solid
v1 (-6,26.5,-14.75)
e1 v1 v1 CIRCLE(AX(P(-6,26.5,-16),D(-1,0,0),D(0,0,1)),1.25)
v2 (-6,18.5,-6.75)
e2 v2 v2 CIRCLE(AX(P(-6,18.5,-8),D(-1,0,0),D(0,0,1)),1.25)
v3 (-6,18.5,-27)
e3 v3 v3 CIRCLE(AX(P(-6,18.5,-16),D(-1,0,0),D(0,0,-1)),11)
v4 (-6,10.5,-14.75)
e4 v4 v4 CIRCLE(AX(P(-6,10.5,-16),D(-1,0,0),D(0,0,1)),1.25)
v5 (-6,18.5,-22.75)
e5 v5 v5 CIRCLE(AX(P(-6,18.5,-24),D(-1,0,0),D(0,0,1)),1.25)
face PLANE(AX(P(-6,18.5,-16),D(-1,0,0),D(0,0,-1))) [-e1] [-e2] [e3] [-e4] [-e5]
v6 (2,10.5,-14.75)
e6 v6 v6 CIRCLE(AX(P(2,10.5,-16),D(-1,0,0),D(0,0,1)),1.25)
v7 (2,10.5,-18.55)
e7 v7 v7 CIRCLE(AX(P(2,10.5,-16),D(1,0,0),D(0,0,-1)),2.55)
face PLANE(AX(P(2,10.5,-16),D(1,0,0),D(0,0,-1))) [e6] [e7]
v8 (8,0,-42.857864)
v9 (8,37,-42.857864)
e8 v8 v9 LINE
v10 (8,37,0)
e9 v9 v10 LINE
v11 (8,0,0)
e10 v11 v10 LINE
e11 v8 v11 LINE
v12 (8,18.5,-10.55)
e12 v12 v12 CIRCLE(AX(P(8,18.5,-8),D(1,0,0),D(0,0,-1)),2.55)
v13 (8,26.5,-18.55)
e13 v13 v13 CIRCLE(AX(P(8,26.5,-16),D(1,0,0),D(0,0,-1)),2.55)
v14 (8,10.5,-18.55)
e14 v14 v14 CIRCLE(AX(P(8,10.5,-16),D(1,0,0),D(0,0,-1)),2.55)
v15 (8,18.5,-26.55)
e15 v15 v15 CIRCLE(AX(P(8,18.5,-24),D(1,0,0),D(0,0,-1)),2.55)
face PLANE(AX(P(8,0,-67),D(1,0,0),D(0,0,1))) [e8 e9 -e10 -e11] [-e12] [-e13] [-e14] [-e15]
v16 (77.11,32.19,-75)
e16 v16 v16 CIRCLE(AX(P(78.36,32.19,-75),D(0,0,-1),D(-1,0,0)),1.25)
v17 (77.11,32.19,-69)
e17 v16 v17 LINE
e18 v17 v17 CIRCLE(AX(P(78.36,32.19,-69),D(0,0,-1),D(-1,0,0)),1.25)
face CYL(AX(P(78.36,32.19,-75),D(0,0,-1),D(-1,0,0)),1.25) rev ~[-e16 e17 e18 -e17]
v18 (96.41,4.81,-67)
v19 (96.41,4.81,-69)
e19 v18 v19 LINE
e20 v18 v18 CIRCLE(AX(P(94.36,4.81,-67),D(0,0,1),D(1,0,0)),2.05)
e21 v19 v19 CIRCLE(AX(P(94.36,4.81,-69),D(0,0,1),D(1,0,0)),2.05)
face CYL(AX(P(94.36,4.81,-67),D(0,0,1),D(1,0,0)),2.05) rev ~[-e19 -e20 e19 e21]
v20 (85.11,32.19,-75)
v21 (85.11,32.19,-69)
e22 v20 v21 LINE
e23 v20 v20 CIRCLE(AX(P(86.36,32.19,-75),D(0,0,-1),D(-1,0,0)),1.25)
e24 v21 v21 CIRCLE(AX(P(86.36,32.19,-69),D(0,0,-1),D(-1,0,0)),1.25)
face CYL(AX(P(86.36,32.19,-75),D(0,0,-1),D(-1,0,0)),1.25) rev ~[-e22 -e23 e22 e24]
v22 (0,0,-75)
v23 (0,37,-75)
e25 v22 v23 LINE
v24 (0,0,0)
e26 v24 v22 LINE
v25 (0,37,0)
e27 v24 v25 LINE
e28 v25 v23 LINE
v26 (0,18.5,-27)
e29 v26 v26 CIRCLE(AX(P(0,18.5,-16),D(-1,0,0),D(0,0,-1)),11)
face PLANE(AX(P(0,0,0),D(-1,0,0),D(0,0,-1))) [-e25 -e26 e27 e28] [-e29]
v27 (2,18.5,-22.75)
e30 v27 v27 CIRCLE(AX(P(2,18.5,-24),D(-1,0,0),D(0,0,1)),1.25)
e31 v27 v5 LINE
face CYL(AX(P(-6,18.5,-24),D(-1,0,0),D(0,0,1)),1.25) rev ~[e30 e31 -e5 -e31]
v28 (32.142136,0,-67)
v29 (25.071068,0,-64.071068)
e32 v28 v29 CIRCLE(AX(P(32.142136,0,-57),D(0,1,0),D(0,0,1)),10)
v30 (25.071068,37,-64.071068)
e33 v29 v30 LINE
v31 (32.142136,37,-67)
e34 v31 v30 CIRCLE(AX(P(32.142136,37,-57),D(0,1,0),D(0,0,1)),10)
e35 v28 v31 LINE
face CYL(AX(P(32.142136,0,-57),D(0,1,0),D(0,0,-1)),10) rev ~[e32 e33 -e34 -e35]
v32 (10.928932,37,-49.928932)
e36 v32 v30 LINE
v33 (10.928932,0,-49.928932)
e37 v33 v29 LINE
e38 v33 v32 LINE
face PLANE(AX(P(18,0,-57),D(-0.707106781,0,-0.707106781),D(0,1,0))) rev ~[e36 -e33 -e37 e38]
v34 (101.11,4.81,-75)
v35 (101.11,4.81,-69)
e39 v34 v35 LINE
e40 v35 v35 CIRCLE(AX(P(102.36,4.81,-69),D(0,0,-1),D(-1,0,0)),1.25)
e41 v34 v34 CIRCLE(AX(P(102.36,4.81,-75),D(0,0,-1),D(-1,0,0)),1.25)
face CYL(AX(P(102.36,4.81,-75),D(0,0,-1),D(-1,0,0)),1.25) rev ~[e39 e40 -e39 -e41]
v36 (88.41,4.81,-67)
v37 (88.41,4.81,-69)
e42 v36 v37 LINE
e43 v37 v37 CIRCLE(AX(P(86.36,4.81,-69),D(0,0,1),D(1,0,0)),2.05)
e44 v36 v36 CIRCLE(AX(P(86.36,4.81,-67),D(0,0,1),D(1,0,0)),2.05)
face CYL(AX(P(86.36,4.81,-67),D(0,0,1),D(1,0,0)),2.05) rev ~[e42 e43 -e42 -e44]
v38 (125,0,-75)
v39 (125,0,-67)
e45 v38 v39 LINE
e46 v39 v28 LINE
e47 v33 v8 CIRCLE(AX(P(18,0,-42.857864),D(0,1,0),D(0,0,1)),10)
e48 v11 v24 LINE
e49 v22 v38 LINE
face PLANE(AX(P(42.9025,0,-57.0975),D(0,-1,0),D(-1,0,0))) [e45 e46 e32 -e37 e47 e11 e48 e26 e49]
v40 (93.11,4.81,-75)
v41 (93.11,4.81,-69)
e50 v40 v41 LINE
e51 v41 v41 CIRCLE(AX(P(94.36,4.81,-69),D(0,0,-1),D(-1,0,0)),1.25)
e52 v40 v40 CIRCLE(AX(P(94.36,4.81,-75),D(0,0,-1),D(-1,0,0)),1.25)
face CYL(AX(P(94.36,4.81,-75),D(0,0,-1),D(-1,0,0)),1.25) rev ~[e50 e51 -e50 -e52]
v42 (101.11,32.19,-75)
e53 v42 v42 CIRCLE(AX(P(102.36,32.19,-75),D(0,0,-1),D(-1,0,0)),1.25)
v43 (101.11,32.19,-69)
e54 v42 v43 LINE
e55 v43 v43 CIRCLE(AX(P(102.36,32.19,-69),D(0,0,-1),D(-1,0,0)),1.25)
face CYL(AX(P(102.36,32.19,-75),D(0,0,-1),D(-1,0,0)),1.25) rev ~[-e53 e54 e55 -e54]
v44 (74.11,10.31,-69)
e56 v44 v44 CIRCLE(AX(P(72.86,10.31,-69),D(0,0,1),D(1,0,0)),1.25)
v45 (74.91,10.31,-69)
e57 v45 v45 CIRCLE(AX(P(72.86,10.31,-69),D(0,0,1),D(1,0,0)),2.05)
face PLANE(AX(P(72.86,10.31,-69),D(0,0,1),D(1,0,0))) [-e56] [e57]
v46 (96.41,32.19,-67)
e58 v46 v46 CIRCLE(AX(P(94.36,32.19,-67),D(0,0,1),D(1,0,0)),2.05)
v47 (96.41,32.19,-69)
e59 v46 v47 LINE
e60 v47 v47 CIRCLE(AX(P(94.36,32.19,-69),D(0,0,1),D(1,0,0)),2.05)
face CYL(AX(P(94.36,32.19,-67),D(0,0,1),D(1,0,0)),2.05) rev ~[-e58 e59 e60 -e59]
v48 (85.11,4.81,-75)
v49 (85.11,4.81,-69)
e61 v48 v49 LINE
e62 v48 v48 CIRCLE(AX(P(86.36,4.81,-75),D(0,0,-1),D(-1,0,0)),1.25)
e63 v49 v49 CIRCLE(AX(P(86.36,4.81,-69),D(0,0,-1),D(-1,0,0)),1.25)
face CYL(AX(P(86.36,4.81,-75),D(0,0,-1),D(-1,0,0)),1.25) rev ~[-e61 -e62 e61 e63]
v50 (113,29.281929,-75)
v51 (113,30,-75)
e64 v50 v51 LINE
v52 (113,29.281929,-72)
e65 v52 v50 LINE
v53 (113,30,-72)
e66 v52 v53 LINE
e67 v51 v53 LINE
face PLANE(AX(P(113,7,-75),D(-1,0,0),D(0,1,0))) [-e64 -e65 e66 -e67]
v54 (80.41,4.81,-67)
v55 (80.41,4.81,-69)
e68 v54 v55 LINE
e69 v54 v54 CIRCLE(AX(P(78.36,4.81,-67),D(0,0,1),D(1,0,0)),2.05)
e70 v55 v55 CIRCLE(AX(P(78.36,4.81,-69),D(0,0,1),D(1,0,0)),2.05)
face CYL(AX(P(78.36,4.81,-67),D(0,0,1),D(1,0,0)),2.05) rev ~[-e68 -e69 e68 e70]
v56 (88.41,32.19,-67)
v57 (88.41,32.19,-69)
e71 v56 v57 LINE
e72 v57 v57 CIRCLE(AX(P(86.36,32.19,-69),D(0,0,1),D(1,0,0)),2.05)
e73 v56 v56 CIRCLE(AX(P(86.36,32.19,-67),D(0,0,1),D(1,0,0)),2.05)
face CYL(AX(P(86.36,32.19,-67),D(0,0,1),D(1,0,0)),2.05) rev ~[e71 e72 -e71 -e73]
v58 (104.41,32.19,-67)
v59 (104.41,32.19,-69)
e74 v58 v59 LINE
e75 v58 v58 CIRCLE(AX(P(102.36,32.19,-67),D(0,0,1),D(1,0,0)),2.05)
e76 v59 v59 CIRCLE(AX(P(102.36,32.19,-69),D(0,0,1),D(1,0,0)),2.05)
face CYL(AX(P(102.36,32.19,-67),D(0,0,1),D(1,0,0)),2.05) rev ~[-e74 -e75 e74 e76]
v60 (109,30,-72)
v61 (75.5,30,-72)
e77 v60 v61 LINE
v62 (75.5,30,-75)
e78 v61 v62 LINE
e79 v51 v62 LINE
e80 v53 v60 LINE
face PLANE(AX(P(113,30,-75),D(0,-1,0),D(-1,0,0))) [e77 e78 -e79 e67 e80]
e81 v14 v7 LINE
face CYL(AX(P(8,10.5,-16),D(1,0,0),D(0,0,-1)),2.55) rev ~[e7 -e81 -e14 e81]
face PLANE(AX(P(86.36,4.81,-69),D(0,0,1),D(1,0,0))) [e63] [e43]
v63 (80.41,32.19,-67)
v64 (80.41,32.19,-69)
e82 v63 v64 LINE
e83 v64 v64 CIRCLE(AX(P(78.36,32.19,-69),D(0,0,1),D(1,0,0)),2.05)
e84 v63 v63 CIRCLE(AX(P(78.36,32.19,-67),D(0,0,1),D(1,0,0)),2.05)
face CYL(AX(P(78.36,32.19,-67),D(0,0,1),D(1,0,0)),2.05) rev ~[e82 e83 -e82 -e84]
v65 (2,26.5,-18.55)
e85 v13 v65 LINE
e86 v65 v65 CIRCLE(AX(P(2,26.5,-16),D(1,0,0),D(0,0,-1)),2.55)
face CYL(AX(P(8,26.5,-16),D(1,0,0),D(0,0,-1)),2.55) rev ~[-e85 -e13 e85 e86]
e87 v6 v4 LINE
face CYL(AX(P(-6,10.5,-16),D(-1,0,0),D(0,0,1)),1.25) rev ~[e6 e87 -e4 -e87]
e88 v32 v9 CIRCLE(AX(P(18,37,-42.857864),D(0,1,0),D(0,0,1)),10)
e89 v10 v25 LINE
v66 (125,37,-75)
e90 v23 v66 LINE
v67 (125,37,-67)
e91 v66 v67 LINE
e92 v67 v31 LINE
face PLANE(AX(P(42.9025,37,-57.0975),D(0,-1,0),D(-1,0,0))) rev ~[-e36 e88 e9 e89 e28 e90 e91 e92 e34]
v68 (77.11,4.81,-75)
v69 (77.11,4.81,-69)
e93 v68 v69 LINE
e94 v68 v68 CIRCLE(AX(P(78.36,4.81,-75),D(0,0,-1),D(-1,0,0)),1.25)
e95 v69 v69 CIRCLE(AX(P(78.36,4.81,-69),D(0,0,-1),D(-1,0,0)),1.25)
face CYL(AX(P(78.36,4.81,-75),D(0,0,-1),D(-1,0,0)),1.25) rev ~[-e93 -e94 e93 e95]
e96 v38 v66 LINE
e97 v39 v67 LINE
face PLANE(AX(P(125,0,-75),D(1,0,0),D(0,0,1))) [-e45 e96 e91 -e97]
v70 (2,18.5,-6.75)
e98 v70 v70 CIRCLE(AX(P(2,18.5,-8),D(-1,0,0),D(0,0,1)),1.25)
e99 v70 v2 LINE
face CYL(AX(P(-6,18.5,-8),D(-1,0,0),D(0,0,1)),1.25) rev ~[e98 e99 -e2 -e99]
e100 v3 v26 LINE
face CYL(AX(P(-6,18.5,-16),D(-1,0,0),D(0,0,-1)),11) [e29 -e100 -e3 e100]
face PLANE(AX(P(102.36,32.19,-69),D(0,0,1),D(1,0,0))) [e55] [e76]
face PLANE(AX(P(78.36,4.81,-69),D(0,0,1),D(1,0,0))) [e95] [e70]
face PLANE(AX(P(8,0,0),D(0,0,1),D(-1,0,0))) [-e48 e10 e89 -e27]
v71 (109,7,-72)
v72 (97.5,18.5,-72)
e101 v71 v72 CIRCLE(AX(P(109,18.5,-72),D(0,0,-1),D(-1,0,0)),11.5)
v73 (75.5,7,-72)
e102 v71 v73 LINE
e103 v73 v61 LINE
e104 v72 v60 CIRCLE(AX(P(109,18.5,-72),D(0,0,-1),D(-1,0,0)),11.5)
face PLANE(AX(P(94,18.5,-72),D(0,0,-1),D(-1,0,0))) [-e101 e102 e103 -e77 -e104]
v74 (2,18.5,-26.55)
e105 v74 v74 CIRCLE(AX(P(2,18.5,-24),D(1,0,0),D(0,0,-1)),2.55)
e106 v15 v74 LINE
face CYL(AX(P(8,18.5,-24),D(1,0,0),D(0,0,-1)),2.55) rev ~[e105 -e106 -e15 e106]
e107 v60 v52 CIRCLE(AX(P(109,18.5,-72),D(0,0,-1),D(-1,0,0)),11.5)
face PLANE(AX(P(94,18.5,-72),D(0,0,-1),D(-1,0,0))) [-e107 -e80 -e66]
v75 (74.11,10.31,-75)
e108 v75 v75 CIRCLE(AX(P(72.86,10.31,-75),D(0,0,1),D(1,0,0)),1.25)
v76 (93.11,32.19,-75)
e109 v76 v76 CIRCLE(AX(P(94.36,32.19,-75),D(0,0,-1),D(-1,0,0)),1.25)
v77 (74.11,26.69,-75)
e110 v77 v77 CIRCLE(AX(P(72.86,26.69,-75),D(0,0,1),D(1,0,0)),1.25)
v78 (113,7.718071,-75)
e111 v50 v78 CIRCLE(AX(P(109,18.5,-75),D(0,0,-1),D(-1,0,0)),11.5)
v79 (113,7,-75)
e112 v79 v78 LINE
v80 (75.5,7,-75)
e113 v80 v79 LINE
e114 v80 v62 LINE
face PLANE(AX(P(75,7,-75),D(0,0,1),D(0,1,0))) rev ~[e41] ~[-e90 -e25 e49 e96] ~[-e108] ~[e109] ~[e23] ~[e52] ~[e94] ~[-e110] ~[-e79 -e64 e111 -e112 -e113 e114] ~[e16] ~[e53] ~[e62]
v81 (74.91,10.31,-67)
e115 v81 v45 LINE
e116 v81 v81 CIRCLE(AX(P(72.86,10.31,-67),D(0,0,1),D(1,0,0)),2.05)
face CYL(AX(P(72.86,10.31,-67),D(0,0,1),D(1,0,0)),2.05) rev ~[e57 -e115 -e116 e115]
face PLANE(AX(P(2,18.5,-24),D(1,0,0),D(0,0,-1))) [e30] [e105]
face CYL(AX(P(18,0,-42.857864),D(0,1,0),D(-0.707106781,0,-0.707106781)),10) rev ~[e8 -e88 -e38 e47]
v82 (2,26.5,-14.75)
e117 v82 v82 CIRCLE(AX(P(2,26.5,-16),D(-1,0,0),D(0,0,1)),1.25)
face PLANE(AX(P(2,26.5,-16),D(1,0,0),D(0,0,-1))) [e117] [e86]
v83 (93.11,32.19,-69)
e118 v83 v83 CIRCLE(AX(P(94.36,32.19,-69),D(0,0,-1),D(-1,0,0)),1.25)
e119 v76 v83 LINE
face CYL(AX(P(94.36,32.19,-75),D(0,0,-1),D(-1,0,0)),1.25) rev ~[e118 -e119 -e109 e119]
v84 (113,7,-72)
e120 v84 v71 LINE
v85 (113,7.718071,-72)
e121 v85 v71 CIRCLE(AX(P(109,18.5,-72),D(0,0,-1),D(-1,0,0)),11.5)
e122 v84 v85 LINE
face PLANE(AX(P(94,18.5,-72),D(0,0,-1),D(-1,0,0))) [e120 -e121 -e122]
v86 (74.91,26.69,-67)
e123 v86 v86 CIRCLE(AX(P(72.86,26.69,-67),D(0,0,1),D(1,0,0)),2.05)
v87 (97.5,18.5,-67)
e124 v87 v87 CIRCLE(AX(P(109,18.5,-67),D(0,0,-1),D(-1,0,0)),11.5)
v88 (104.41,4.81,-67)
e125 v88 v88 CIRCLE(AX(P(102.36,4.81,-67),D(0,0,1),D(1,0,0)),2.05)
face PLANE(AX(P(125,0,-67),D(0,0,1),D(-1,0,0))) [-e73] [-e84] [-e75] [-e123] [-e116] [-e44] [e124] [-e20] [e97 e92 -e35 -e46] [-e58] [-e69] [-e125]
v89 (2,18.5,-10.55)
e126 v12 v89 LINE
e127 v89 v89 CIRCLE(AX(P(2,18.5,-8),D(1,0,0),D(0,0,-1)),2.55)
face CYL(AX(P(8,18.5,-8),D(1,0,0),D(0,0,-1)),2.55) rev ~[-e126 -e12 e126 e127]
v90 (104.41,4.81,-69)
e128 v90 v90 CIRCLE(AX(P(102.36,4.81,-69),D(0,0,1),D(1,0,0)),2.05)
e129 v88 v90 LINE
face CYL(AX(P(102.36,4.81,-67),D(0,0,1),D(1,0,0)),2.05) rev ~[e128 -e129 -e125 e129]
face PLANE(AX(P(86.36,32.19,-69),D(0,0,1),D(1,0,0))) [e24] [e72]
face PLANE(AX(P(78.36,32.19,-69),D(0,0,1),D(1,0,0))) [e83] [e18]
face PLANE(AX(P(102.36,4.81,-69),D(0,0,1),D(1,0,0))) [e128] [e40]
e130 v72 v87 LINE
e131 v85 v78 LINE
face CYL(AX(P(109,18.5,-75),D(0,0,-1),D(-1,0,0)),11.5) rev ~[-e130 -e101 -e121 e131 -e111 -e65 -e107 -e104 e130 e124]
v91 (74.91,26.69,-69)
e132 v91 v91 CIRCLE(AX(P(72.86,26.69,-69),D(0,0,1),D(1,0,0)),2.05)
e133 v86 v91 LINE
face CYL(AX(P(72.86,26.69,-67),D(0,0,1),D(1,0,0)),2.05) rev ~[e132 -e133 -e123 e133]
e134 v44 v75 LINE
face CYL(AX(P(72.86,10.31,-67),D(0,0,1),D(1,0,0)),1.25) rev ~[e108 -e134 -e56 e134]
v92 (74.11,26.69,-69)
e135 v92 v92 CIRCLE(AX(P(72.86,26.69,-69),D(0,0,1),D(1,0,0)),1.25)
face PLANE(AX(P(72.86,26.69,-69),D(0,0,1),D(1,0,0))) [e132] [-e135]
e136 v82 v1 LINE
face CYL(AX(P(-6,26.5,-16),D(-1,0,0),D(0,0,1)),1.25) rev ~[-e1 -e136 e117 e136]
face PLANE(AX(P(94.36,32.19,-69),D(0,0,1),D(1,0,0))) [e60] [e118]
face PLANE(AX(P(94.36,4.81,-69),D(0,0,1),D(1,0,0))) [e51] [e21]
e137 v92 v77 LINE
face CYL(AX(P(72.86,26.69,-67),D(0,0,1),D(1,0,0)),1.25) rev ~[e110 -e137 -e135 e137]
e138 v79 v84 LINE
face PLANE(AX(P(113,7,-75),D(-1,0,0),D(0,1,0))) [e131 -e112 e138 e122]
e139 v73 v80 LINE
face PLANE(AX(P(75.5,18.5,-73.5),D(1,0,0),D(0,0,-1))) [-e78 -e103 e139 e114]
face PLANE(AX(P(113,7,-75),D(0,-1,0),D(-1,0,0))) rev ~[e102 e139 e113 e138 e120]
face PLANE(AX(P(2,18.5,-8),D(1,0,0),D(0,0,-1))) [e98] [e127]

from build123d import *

# Parameters (mm, degrees)
BOSS_EXTRUDE1_DEPTH = 37
CUT_EXTRUDE1_REACH  = 152.396
CUT_EXTRUDE2_REACH  = 152.396
SKETCH3_R           = 1.25
CUT_EXTRUDE5_REACH  = 152.396
SKETCH5_R           = 1.25
BOSS_EXTRUDE3_START = 6
SKETCH6_R           = 11
SKETCH6_R_2         = 1.25
BOSS_EXTRUDE3_DEPTH = 6
SKETCH4_W           = 38
SKETCH4_H           = 23
CUT_EXTRUDE6_DEPTH  = 3
SKETCH9_R           = 2.05
CUT_EXTRUDE8_DEPTH  = 2
SKETCH10_R          = 2.55
CUT_EXTRUDE9_DEPTH  = 6
CHAMFER1_SIZE       = 20
FILLET5_R           = 10
CUT_EXTRUDE10_REACH = 148.571
SKETCH11_R          = 1.25
SKETCH12_R          = 2.05
CUT_EXTRUDE11_DEPTH = 2
SKETCH7_W           = 3
SKETCH7_H           = 23
BOSS_EXTRUDE4_DEPTH = 0.5


with BuildPart() as part:
    # Sketch1 → Boss-Extrude1 (new body)
    with BuildSketch(Plane(origin=(0, 0, 0), x_dir=(1, 0, 0), z_dir=(0, 1, 0))):
        Polygon((0, 0), (0, 75), (125, 75), (125, 67), (8, 67), (8, 0), align=None)
    extrude(amount=BOSS_EXTRUDE1_DEPTH)

    # Sketch2 → Cut-Extrude1 (cut, up to next)
    with BuildSketch(Plane(origin=(0, 0, -75), x_dir=(-1, 0, 0), z_dir=(0, 0, -1)), mode=Mode.PRIVATE) as cut_extrude1_sk1:
        with BuildLine():
            ThreePointArc((-120.5, 18.5), (-109, 7), (-97.5, 18.5))
            ThreePointArc((-97.5, 18.5), (-109, 30), (-120.5, 18.5))
        make_face()
    cut_extrude1_tool1 = extrude(cut_extrude1_sk1.sketch, amount=-CUT_EXTRUDE1_REACH, mode=Mode.PRIVATE) & part.part
    add(cut_extrude1_tool1.solids().sort_by_distance((109, 18.5, -75))[0], mode=Mode.SUBTRACT)

    # Sketch3 → Cut-Extrude2 (cut, up to next)
    with BuildSketch(Plane(origin=(0, 0, -75), x_dir=(-1, 0, 0), z_dir=(0, 0, -1)), mode=Mode.PRIVATE) as cut_extrude2_sk1:
        with Locations((-102.36, 32.19)):
            Circle(SKETCH3_R)
    cut_extrude2_tool1 = extrude(cut_extrude2_sk1.sketch, amount=-CUT_EXTRUDE2_REACH, mode=Mode.PRIVATE) & part.part
    # Sketch3 → Cut-Extrude2 (cut, up to next)
    with BuildSketch(Plane(origin=(0, 0, -75), x_dir=(-1, 0, 0), z_dir=(0, 0, -1)), mode=Mode.PRIVATE) as cut_extrude2_sk2:
        with Locations((-94.36, 32.19)):
            Circle(SKETCH3_R)
    cut_extrude2_tool2 = extrude(cut_extrude2_sk2.sketch, amount=-CUT_EXTRUDE2_REACH, mode=Mode.PRIVATE) & part.part
    # Sketch3 → Cut-Extrude2 (cut, up to next)
    with BuildSketch(Plane(origin=(0, 0, -75), x_dir=(-1, 0, 0), z_dir=(0, 0, -1)), mode=Mode.PRIVATE) as cut_extrude2_sk3:
        with Locations((-86.36, 32.19)):
            Circle(SKETCH3_R)
    cut_extrude2_tool3 = extrude(cut_extrude2_sk3.sketch, amount=-CUT_EXTRUDE2_REACH, mode=Mode.PRIVATE) & part.part
    # Sketch3 → Cut-Extrude2 (cut, up to next)
    with BuildSketch(Plane(origin=(0, 0, -75), x_dir=(-1, 0, 0), z_dir=(0, 0, -1)), mode=Mode.PRIVATE) as cut_extrude2_sk4:
        with Locations((-78.36, 32.19)):
            Circle(SKETCH3_R)
    cut_extrude2_tool4 = extrude(cut_extrude2_sk4.sketch, amount=-CUT_EXTRUDE2_REACH, mode=Mode.PRIVATE) & part.part
    # Sketch3 → Cut-Extrude2 (cut, up to next)
    with BuildSketch(Plane(origin=(0, 0, -75), x_dir=(-1, 0, 0), z_dir=(0, 0, -1)), mode=Mode.PRIVATE) as cut_extrude2_sk5:
        with Locations((-78.36, 4.81)):
            Circle(SKETCH3_R)
    cut_extrude2_tool5 = extrude(cut_extrude2_sk5.sketch, amount=-CUT_EXTRUDE2_REACH, mode=Mode.PRIVATE) & part.part
    # Sketch3 → Cut-Extrude2 (cut, up to next)
    with BuildSketch(Plane(origin=(0, 0, -75), x_dir=(-1, 0, 0), z_dir=(0, 0, -1)), mode=Mode.PRIVATE) as cut_extrude2_sk6:
        with Locations((-86.36, 4.81)):
            Circle(SKETCH3_R)
    cut_extrude2_tool6 = extrude(cut_extrude2_sk6.sketch, amount=-CUT_EXTRUDE2_REACH, mode=Mode.PRIVATE) & part.part
    # Sketch3 → Cut-Extrude2 (cut, up to next)
    with BuildSketch(Plane(origin=(0, 0, -75), x_dir=(-1, 0, 0), z_dir=(0, 0, -1)), mode=Mode.PRIVATE) as cut_extrude2_sk7:
        with Locations((-94.36, 4.81)):
            Circle(SKETCH3_R)
    cut_extrude2_tool7 = extrude(cut_extrude2_sk7.sketch, amount=-CUT_EXTRUDE2_REACH, mode=Mode.PRIVATE) & part.part
    # Sketch3 → Cut-Extrude2 (cut, up to next)
    with BuildSketch(Plane(origin=(0, 0, -75), x_dir=(-1, 0, 0), z_dir=(0, 0, -1)), mode=Mode.PRIVATE) as cut_extrude2_sk8:
        with Locations((-102.36, 4.81)):
            Circle(SKETCH3_R)
    cut_extrude2_tool8 = extrude(cut_extrude2_sk8.sketch, amount=-CUT_EXTRUDE2_REACH, mode=Mode.PRIVATE) & part.part
    add(cut_extrude2_tool1.solids().sort_by_distance((102.36, 32.19, -75))[0], mode=Mode.SUBTRACT)
    add(cut_extrude2_tool2.solids().sort_by_distance((94.36, 32.19, -75))[0], mode=Mode.SUBTRACT)
    add(cut_extrude2_tool3.solids().sort_by_distance((86.36, 32.19, -75))[0], mode=Mode.SUBTRACT)
    add(cut_extrude2_tool4.solids().sort_by_distance((78.36, 32.19, -75))[0], mode=Mode.SUBTRACT)
    add(cut_extrude2_tool5.solids().sort_by_distance((78.36, 4.81, -75))[0], mode=Mode.SUBTRACT)
    add(cut_extrude2_tool6.solids().sort_by_distance((86.36, 4.81, -75))[0], mode=Mode.SUBTRACT)
    add(cut_extrude2_tool7.solids().sort_by_distance((94.36, 4.81, -75))[0], mode=Mode.SUBTRACT)
    add(cut_extrude2_tool8.solids().sort_by_distance((102.36, 4.81, -75))[0], mode=Mode.SUBTRACT)

    # Sketch5 → Cut-Extrude5 (cut, up to next)
    with BuildSketch(Plane.ZY, mode=Mode.PRIVATE) as cut_extrude5_sk1:
        with Locations((-16, 10.5)):
            Circle(SKETCH5_R)
    cut_extrude5_tool1 = extrude(cut_extrude5_sk1.sketch, amount=-CUT_EXTRUDE5_REACH, mode=Mode.PRIVATE) & part.part
    # Sketch5 → Cut-Extrude5 (cut, up to next)
    with BuildSketch(Plane.ZY, mode=Mode.PRIVATE) as cut_extrude5_sk2:
        with Locations((-24, 18.5)):
            Circle(SKETCH5_R)
    cut_extrude5_tool2 = extrude(cut_extrude5_sk2.sketch, amount=-CUT_EXTRUDE5_REACH, mode=Mode.PRIVATE) & part.part
    # Sketch5 → Cut-Extrude5 (cut, up to next)
    with BuildSketch(Plane.ZY, mode=Mode.PRIVATE) as cut_extrude5_sk3:
        with Locations((-16, 26.5)):
            Circle(SKETCH5_R)
    cut_extrude5_tool3 = extrude(cut_extrude5_sk3.sketch, amount=-CUT_EXTRUDE5_REACH, mode=Mode.PRIVATE) & part.part
    # Sketch5 → Cut-Extrude5 (cut, up to next)
    with BuildSketch(Plane.ZY, mode=Mode.PRIVATE) as cut_extrude5_sk4:
        with Locations((-8, 18.5)):
            Circle(SKETCH5_R)
    cut_extrude5_tool4 = extrude(cut_extrude5_sk4.sketch, amount=-CUT_EXTRUDE5_REACH, mode=Mode.PRIVATE) & part.part
    add(cut_extrude5_tool1.solids().sort_by_distance((0, 10.5, -16))[0], mode=Mode.SUBTRACT)
    add(cut_extrude5_tool2.solids().sort_by_distance((0, 18.5, -24))[0], mode=Mode.SUBTRACT)
    add(cut_extrude5_tool3.solids().sort_by_distance((0, 26.5, -16))[0], mode=Mode.SUBTRACT)
    add(cut_extrude5_tool4.solids().sort_by_distance((0, 18.5, -8))[0], mode=Mode.SUBTRACT)

    # Sketch6 → Boss-Extrude3 (add)
    with BuildSketch(Plane.ZY.offset(BOSS_EXTRUDE3_START)):
        with Locations((-16, 18.5)):
            Circle(SKETCH6_R)
        with Locations((-16, 10.5)):
            Circle(SKETCH6_R_2, mode=Mode.SUBTRACT)
        with BuildLine():
            ThreePointArc((-9.25, 18.5), (-8, 19.75), (-6.75, 18.5))
            ThreePointArc((-6.75, 18.5), (-8, 17.25), (-9.25, 18.5))
        make_face(mode=Mode.SUBTRACT)
        with Locations((-24, 18.5)):
            Circle(SKETCH6_R_2, mode=Mode.SUBTRACT)
        with Locations((-16, 26.5)):
            Circle(SKETCH6_R_2, mode=Mode.SUBTRACT)
    extrude(amount=-BOSS_EXTRUDE3_DEPTH)

    # Sketch4 → Cut-Extrude6 (cut)
    with BuildSketch(Plane(origin=(0, 0, -75), x_dir=(-1, 0, 0), z_dir=(0, 0, -1))):
        with Locations((-94, 18.5)):
            Rectangle(SKETCH4_W, SKETCH4_H)
    extrude(amount=-CUT_EXTRUDE6_DEPTH, mode=Mode.SUBTRACT)

    # Sketch9 → Cut-Extrude8 (cut)
    with BuildSketch(Plane.XY.offset(-67)):
        with Locations((78.36, 32.19)):
            Circle(SKETCH9_R)
        with Locations((86.36, 32.19)):
            Circle(SKETCH9_R)
        with Locations((94.36, 32.19)):
            Circle(SKETCH9_R)
        with Locations((102.36, 32.19)):
            Circle(SKETCH9_R)
        with Locations((78.36, 4.81)):
            Circle(SKETCH9_R)
        with Locations((86.36, 4.81)):
            Circle(SKETCH9_R)
        with Locations((94.36, 4.81)):
            Circle(SKETCH9_R)
        with Locations((102.36, 4.81)):
            Circle(SKETCH9_R)
    extrude(amount=-CUT_EXTRUDE8_DEPTH, mode=Mode.SUBTRACT)

    # Sketch10 → Cut-Extrude9 (cut)
    with BuildSketch(Plane(origin=(8, 0, 0), x_dir=(0, 0, -1), z_dir=(1, 0, 0))):
        with Locations((24, 18.5)):
            Circle(SKETCH10_R)
        with Locations((16, 10.5)):
            Circle(SKETCH10_R)
        with Locations((8, 18.5)):
            Circle(SKETCH10_R)
        with Locations((16, 26.5)):
            Circle(SKETCH10_R)
    extrude(amount=-CUT_EXTRUDE9_DEPTH, mode=Mode.SUBTRACT)

    # Chamfer1
    chamfer1_edges = [part.edges().sort_by_distance(p)[0] for p in [
        (8, 18.5, -67),
    ]]
    chamfer(chamfer1_edges, length=CHAMFER1_SIZE)

    # Fillet5
    fillet5_edges = [part.edges().sort_by_distance(p)[0] for p in [
        (8, 18.5, -47),
        (28, 18.5, -67),
    ]]
    fillet(fillet5_edges, radius=FILLET5_R)

    # Sketch11 → Cut-Extrude10 (cut, up to next)
    with BuildSketch(Plane.XY.offset(-67), mode=Mode.PRIVATE) as cut_extrude10_sk1:
        with Locations((72.86, 10.31)):
            Circle(SKETCH11_R)
    cut_extrude10_tool1 = extrude(cut_extrude10_sk1.sketch, amount=-CUT_EXTRUDE10_REACH, mode=Mode.PRIVATE) & part.part
    # Sketch11 → Cut-Extrude10 (cut, up to next)
    with BuildSketch(Plane.XY.offset(-67), mode=Mode.PRIVATE) as cut_extrude10_sk2:
        with Locations((72.86, 26.69)):
            Circle(SKETCH11_R)
    cut_extrude10_tool2 = extrude(cut_extrude10_sk2.sketch, amount=-CUT_EXTRUDE10_REACH, mode=Mode.PRIVATE) & part.part
    add(cut_extrude10_tool1.solids().sort_by_distance((72.86, 10.31, -67))[0], mode=Mode.SUBTRACT)
    add(cut_extrude10_tool2.solids().sort_by_distance((72.86, 26.69, -67))[0], mode=Mode.SUBTRACT)

    # Sketch12 → Cut-Extrude11 (cut)
    with BuildSketch(Plane.XY.offset(-67)):
        with Locations((72.86, 10.31)):
            Circle(SKETCH12_R)
        with Locations((72.86, 26.69)):
            Circle(SKETCH12_R)
    extrude(amount=-CUT_EXTRUDE11_DEPTH, mode=Mode.SUBTRACT)

    # Sketch7 → Boss-Extrude4 (add)
    with BuildSketch(Plane(origin=(75, 0, 0), x_dir=(0, 0, -1), z_dir=(1, 0, 0))):
        with Locations((73.5, 18.5)):
            Rectangle(SKETCH7_W, SKETCH7_H)
    extrude(amount=BOSS_EXTRUDE4_DEPTH)


solid = part.part
